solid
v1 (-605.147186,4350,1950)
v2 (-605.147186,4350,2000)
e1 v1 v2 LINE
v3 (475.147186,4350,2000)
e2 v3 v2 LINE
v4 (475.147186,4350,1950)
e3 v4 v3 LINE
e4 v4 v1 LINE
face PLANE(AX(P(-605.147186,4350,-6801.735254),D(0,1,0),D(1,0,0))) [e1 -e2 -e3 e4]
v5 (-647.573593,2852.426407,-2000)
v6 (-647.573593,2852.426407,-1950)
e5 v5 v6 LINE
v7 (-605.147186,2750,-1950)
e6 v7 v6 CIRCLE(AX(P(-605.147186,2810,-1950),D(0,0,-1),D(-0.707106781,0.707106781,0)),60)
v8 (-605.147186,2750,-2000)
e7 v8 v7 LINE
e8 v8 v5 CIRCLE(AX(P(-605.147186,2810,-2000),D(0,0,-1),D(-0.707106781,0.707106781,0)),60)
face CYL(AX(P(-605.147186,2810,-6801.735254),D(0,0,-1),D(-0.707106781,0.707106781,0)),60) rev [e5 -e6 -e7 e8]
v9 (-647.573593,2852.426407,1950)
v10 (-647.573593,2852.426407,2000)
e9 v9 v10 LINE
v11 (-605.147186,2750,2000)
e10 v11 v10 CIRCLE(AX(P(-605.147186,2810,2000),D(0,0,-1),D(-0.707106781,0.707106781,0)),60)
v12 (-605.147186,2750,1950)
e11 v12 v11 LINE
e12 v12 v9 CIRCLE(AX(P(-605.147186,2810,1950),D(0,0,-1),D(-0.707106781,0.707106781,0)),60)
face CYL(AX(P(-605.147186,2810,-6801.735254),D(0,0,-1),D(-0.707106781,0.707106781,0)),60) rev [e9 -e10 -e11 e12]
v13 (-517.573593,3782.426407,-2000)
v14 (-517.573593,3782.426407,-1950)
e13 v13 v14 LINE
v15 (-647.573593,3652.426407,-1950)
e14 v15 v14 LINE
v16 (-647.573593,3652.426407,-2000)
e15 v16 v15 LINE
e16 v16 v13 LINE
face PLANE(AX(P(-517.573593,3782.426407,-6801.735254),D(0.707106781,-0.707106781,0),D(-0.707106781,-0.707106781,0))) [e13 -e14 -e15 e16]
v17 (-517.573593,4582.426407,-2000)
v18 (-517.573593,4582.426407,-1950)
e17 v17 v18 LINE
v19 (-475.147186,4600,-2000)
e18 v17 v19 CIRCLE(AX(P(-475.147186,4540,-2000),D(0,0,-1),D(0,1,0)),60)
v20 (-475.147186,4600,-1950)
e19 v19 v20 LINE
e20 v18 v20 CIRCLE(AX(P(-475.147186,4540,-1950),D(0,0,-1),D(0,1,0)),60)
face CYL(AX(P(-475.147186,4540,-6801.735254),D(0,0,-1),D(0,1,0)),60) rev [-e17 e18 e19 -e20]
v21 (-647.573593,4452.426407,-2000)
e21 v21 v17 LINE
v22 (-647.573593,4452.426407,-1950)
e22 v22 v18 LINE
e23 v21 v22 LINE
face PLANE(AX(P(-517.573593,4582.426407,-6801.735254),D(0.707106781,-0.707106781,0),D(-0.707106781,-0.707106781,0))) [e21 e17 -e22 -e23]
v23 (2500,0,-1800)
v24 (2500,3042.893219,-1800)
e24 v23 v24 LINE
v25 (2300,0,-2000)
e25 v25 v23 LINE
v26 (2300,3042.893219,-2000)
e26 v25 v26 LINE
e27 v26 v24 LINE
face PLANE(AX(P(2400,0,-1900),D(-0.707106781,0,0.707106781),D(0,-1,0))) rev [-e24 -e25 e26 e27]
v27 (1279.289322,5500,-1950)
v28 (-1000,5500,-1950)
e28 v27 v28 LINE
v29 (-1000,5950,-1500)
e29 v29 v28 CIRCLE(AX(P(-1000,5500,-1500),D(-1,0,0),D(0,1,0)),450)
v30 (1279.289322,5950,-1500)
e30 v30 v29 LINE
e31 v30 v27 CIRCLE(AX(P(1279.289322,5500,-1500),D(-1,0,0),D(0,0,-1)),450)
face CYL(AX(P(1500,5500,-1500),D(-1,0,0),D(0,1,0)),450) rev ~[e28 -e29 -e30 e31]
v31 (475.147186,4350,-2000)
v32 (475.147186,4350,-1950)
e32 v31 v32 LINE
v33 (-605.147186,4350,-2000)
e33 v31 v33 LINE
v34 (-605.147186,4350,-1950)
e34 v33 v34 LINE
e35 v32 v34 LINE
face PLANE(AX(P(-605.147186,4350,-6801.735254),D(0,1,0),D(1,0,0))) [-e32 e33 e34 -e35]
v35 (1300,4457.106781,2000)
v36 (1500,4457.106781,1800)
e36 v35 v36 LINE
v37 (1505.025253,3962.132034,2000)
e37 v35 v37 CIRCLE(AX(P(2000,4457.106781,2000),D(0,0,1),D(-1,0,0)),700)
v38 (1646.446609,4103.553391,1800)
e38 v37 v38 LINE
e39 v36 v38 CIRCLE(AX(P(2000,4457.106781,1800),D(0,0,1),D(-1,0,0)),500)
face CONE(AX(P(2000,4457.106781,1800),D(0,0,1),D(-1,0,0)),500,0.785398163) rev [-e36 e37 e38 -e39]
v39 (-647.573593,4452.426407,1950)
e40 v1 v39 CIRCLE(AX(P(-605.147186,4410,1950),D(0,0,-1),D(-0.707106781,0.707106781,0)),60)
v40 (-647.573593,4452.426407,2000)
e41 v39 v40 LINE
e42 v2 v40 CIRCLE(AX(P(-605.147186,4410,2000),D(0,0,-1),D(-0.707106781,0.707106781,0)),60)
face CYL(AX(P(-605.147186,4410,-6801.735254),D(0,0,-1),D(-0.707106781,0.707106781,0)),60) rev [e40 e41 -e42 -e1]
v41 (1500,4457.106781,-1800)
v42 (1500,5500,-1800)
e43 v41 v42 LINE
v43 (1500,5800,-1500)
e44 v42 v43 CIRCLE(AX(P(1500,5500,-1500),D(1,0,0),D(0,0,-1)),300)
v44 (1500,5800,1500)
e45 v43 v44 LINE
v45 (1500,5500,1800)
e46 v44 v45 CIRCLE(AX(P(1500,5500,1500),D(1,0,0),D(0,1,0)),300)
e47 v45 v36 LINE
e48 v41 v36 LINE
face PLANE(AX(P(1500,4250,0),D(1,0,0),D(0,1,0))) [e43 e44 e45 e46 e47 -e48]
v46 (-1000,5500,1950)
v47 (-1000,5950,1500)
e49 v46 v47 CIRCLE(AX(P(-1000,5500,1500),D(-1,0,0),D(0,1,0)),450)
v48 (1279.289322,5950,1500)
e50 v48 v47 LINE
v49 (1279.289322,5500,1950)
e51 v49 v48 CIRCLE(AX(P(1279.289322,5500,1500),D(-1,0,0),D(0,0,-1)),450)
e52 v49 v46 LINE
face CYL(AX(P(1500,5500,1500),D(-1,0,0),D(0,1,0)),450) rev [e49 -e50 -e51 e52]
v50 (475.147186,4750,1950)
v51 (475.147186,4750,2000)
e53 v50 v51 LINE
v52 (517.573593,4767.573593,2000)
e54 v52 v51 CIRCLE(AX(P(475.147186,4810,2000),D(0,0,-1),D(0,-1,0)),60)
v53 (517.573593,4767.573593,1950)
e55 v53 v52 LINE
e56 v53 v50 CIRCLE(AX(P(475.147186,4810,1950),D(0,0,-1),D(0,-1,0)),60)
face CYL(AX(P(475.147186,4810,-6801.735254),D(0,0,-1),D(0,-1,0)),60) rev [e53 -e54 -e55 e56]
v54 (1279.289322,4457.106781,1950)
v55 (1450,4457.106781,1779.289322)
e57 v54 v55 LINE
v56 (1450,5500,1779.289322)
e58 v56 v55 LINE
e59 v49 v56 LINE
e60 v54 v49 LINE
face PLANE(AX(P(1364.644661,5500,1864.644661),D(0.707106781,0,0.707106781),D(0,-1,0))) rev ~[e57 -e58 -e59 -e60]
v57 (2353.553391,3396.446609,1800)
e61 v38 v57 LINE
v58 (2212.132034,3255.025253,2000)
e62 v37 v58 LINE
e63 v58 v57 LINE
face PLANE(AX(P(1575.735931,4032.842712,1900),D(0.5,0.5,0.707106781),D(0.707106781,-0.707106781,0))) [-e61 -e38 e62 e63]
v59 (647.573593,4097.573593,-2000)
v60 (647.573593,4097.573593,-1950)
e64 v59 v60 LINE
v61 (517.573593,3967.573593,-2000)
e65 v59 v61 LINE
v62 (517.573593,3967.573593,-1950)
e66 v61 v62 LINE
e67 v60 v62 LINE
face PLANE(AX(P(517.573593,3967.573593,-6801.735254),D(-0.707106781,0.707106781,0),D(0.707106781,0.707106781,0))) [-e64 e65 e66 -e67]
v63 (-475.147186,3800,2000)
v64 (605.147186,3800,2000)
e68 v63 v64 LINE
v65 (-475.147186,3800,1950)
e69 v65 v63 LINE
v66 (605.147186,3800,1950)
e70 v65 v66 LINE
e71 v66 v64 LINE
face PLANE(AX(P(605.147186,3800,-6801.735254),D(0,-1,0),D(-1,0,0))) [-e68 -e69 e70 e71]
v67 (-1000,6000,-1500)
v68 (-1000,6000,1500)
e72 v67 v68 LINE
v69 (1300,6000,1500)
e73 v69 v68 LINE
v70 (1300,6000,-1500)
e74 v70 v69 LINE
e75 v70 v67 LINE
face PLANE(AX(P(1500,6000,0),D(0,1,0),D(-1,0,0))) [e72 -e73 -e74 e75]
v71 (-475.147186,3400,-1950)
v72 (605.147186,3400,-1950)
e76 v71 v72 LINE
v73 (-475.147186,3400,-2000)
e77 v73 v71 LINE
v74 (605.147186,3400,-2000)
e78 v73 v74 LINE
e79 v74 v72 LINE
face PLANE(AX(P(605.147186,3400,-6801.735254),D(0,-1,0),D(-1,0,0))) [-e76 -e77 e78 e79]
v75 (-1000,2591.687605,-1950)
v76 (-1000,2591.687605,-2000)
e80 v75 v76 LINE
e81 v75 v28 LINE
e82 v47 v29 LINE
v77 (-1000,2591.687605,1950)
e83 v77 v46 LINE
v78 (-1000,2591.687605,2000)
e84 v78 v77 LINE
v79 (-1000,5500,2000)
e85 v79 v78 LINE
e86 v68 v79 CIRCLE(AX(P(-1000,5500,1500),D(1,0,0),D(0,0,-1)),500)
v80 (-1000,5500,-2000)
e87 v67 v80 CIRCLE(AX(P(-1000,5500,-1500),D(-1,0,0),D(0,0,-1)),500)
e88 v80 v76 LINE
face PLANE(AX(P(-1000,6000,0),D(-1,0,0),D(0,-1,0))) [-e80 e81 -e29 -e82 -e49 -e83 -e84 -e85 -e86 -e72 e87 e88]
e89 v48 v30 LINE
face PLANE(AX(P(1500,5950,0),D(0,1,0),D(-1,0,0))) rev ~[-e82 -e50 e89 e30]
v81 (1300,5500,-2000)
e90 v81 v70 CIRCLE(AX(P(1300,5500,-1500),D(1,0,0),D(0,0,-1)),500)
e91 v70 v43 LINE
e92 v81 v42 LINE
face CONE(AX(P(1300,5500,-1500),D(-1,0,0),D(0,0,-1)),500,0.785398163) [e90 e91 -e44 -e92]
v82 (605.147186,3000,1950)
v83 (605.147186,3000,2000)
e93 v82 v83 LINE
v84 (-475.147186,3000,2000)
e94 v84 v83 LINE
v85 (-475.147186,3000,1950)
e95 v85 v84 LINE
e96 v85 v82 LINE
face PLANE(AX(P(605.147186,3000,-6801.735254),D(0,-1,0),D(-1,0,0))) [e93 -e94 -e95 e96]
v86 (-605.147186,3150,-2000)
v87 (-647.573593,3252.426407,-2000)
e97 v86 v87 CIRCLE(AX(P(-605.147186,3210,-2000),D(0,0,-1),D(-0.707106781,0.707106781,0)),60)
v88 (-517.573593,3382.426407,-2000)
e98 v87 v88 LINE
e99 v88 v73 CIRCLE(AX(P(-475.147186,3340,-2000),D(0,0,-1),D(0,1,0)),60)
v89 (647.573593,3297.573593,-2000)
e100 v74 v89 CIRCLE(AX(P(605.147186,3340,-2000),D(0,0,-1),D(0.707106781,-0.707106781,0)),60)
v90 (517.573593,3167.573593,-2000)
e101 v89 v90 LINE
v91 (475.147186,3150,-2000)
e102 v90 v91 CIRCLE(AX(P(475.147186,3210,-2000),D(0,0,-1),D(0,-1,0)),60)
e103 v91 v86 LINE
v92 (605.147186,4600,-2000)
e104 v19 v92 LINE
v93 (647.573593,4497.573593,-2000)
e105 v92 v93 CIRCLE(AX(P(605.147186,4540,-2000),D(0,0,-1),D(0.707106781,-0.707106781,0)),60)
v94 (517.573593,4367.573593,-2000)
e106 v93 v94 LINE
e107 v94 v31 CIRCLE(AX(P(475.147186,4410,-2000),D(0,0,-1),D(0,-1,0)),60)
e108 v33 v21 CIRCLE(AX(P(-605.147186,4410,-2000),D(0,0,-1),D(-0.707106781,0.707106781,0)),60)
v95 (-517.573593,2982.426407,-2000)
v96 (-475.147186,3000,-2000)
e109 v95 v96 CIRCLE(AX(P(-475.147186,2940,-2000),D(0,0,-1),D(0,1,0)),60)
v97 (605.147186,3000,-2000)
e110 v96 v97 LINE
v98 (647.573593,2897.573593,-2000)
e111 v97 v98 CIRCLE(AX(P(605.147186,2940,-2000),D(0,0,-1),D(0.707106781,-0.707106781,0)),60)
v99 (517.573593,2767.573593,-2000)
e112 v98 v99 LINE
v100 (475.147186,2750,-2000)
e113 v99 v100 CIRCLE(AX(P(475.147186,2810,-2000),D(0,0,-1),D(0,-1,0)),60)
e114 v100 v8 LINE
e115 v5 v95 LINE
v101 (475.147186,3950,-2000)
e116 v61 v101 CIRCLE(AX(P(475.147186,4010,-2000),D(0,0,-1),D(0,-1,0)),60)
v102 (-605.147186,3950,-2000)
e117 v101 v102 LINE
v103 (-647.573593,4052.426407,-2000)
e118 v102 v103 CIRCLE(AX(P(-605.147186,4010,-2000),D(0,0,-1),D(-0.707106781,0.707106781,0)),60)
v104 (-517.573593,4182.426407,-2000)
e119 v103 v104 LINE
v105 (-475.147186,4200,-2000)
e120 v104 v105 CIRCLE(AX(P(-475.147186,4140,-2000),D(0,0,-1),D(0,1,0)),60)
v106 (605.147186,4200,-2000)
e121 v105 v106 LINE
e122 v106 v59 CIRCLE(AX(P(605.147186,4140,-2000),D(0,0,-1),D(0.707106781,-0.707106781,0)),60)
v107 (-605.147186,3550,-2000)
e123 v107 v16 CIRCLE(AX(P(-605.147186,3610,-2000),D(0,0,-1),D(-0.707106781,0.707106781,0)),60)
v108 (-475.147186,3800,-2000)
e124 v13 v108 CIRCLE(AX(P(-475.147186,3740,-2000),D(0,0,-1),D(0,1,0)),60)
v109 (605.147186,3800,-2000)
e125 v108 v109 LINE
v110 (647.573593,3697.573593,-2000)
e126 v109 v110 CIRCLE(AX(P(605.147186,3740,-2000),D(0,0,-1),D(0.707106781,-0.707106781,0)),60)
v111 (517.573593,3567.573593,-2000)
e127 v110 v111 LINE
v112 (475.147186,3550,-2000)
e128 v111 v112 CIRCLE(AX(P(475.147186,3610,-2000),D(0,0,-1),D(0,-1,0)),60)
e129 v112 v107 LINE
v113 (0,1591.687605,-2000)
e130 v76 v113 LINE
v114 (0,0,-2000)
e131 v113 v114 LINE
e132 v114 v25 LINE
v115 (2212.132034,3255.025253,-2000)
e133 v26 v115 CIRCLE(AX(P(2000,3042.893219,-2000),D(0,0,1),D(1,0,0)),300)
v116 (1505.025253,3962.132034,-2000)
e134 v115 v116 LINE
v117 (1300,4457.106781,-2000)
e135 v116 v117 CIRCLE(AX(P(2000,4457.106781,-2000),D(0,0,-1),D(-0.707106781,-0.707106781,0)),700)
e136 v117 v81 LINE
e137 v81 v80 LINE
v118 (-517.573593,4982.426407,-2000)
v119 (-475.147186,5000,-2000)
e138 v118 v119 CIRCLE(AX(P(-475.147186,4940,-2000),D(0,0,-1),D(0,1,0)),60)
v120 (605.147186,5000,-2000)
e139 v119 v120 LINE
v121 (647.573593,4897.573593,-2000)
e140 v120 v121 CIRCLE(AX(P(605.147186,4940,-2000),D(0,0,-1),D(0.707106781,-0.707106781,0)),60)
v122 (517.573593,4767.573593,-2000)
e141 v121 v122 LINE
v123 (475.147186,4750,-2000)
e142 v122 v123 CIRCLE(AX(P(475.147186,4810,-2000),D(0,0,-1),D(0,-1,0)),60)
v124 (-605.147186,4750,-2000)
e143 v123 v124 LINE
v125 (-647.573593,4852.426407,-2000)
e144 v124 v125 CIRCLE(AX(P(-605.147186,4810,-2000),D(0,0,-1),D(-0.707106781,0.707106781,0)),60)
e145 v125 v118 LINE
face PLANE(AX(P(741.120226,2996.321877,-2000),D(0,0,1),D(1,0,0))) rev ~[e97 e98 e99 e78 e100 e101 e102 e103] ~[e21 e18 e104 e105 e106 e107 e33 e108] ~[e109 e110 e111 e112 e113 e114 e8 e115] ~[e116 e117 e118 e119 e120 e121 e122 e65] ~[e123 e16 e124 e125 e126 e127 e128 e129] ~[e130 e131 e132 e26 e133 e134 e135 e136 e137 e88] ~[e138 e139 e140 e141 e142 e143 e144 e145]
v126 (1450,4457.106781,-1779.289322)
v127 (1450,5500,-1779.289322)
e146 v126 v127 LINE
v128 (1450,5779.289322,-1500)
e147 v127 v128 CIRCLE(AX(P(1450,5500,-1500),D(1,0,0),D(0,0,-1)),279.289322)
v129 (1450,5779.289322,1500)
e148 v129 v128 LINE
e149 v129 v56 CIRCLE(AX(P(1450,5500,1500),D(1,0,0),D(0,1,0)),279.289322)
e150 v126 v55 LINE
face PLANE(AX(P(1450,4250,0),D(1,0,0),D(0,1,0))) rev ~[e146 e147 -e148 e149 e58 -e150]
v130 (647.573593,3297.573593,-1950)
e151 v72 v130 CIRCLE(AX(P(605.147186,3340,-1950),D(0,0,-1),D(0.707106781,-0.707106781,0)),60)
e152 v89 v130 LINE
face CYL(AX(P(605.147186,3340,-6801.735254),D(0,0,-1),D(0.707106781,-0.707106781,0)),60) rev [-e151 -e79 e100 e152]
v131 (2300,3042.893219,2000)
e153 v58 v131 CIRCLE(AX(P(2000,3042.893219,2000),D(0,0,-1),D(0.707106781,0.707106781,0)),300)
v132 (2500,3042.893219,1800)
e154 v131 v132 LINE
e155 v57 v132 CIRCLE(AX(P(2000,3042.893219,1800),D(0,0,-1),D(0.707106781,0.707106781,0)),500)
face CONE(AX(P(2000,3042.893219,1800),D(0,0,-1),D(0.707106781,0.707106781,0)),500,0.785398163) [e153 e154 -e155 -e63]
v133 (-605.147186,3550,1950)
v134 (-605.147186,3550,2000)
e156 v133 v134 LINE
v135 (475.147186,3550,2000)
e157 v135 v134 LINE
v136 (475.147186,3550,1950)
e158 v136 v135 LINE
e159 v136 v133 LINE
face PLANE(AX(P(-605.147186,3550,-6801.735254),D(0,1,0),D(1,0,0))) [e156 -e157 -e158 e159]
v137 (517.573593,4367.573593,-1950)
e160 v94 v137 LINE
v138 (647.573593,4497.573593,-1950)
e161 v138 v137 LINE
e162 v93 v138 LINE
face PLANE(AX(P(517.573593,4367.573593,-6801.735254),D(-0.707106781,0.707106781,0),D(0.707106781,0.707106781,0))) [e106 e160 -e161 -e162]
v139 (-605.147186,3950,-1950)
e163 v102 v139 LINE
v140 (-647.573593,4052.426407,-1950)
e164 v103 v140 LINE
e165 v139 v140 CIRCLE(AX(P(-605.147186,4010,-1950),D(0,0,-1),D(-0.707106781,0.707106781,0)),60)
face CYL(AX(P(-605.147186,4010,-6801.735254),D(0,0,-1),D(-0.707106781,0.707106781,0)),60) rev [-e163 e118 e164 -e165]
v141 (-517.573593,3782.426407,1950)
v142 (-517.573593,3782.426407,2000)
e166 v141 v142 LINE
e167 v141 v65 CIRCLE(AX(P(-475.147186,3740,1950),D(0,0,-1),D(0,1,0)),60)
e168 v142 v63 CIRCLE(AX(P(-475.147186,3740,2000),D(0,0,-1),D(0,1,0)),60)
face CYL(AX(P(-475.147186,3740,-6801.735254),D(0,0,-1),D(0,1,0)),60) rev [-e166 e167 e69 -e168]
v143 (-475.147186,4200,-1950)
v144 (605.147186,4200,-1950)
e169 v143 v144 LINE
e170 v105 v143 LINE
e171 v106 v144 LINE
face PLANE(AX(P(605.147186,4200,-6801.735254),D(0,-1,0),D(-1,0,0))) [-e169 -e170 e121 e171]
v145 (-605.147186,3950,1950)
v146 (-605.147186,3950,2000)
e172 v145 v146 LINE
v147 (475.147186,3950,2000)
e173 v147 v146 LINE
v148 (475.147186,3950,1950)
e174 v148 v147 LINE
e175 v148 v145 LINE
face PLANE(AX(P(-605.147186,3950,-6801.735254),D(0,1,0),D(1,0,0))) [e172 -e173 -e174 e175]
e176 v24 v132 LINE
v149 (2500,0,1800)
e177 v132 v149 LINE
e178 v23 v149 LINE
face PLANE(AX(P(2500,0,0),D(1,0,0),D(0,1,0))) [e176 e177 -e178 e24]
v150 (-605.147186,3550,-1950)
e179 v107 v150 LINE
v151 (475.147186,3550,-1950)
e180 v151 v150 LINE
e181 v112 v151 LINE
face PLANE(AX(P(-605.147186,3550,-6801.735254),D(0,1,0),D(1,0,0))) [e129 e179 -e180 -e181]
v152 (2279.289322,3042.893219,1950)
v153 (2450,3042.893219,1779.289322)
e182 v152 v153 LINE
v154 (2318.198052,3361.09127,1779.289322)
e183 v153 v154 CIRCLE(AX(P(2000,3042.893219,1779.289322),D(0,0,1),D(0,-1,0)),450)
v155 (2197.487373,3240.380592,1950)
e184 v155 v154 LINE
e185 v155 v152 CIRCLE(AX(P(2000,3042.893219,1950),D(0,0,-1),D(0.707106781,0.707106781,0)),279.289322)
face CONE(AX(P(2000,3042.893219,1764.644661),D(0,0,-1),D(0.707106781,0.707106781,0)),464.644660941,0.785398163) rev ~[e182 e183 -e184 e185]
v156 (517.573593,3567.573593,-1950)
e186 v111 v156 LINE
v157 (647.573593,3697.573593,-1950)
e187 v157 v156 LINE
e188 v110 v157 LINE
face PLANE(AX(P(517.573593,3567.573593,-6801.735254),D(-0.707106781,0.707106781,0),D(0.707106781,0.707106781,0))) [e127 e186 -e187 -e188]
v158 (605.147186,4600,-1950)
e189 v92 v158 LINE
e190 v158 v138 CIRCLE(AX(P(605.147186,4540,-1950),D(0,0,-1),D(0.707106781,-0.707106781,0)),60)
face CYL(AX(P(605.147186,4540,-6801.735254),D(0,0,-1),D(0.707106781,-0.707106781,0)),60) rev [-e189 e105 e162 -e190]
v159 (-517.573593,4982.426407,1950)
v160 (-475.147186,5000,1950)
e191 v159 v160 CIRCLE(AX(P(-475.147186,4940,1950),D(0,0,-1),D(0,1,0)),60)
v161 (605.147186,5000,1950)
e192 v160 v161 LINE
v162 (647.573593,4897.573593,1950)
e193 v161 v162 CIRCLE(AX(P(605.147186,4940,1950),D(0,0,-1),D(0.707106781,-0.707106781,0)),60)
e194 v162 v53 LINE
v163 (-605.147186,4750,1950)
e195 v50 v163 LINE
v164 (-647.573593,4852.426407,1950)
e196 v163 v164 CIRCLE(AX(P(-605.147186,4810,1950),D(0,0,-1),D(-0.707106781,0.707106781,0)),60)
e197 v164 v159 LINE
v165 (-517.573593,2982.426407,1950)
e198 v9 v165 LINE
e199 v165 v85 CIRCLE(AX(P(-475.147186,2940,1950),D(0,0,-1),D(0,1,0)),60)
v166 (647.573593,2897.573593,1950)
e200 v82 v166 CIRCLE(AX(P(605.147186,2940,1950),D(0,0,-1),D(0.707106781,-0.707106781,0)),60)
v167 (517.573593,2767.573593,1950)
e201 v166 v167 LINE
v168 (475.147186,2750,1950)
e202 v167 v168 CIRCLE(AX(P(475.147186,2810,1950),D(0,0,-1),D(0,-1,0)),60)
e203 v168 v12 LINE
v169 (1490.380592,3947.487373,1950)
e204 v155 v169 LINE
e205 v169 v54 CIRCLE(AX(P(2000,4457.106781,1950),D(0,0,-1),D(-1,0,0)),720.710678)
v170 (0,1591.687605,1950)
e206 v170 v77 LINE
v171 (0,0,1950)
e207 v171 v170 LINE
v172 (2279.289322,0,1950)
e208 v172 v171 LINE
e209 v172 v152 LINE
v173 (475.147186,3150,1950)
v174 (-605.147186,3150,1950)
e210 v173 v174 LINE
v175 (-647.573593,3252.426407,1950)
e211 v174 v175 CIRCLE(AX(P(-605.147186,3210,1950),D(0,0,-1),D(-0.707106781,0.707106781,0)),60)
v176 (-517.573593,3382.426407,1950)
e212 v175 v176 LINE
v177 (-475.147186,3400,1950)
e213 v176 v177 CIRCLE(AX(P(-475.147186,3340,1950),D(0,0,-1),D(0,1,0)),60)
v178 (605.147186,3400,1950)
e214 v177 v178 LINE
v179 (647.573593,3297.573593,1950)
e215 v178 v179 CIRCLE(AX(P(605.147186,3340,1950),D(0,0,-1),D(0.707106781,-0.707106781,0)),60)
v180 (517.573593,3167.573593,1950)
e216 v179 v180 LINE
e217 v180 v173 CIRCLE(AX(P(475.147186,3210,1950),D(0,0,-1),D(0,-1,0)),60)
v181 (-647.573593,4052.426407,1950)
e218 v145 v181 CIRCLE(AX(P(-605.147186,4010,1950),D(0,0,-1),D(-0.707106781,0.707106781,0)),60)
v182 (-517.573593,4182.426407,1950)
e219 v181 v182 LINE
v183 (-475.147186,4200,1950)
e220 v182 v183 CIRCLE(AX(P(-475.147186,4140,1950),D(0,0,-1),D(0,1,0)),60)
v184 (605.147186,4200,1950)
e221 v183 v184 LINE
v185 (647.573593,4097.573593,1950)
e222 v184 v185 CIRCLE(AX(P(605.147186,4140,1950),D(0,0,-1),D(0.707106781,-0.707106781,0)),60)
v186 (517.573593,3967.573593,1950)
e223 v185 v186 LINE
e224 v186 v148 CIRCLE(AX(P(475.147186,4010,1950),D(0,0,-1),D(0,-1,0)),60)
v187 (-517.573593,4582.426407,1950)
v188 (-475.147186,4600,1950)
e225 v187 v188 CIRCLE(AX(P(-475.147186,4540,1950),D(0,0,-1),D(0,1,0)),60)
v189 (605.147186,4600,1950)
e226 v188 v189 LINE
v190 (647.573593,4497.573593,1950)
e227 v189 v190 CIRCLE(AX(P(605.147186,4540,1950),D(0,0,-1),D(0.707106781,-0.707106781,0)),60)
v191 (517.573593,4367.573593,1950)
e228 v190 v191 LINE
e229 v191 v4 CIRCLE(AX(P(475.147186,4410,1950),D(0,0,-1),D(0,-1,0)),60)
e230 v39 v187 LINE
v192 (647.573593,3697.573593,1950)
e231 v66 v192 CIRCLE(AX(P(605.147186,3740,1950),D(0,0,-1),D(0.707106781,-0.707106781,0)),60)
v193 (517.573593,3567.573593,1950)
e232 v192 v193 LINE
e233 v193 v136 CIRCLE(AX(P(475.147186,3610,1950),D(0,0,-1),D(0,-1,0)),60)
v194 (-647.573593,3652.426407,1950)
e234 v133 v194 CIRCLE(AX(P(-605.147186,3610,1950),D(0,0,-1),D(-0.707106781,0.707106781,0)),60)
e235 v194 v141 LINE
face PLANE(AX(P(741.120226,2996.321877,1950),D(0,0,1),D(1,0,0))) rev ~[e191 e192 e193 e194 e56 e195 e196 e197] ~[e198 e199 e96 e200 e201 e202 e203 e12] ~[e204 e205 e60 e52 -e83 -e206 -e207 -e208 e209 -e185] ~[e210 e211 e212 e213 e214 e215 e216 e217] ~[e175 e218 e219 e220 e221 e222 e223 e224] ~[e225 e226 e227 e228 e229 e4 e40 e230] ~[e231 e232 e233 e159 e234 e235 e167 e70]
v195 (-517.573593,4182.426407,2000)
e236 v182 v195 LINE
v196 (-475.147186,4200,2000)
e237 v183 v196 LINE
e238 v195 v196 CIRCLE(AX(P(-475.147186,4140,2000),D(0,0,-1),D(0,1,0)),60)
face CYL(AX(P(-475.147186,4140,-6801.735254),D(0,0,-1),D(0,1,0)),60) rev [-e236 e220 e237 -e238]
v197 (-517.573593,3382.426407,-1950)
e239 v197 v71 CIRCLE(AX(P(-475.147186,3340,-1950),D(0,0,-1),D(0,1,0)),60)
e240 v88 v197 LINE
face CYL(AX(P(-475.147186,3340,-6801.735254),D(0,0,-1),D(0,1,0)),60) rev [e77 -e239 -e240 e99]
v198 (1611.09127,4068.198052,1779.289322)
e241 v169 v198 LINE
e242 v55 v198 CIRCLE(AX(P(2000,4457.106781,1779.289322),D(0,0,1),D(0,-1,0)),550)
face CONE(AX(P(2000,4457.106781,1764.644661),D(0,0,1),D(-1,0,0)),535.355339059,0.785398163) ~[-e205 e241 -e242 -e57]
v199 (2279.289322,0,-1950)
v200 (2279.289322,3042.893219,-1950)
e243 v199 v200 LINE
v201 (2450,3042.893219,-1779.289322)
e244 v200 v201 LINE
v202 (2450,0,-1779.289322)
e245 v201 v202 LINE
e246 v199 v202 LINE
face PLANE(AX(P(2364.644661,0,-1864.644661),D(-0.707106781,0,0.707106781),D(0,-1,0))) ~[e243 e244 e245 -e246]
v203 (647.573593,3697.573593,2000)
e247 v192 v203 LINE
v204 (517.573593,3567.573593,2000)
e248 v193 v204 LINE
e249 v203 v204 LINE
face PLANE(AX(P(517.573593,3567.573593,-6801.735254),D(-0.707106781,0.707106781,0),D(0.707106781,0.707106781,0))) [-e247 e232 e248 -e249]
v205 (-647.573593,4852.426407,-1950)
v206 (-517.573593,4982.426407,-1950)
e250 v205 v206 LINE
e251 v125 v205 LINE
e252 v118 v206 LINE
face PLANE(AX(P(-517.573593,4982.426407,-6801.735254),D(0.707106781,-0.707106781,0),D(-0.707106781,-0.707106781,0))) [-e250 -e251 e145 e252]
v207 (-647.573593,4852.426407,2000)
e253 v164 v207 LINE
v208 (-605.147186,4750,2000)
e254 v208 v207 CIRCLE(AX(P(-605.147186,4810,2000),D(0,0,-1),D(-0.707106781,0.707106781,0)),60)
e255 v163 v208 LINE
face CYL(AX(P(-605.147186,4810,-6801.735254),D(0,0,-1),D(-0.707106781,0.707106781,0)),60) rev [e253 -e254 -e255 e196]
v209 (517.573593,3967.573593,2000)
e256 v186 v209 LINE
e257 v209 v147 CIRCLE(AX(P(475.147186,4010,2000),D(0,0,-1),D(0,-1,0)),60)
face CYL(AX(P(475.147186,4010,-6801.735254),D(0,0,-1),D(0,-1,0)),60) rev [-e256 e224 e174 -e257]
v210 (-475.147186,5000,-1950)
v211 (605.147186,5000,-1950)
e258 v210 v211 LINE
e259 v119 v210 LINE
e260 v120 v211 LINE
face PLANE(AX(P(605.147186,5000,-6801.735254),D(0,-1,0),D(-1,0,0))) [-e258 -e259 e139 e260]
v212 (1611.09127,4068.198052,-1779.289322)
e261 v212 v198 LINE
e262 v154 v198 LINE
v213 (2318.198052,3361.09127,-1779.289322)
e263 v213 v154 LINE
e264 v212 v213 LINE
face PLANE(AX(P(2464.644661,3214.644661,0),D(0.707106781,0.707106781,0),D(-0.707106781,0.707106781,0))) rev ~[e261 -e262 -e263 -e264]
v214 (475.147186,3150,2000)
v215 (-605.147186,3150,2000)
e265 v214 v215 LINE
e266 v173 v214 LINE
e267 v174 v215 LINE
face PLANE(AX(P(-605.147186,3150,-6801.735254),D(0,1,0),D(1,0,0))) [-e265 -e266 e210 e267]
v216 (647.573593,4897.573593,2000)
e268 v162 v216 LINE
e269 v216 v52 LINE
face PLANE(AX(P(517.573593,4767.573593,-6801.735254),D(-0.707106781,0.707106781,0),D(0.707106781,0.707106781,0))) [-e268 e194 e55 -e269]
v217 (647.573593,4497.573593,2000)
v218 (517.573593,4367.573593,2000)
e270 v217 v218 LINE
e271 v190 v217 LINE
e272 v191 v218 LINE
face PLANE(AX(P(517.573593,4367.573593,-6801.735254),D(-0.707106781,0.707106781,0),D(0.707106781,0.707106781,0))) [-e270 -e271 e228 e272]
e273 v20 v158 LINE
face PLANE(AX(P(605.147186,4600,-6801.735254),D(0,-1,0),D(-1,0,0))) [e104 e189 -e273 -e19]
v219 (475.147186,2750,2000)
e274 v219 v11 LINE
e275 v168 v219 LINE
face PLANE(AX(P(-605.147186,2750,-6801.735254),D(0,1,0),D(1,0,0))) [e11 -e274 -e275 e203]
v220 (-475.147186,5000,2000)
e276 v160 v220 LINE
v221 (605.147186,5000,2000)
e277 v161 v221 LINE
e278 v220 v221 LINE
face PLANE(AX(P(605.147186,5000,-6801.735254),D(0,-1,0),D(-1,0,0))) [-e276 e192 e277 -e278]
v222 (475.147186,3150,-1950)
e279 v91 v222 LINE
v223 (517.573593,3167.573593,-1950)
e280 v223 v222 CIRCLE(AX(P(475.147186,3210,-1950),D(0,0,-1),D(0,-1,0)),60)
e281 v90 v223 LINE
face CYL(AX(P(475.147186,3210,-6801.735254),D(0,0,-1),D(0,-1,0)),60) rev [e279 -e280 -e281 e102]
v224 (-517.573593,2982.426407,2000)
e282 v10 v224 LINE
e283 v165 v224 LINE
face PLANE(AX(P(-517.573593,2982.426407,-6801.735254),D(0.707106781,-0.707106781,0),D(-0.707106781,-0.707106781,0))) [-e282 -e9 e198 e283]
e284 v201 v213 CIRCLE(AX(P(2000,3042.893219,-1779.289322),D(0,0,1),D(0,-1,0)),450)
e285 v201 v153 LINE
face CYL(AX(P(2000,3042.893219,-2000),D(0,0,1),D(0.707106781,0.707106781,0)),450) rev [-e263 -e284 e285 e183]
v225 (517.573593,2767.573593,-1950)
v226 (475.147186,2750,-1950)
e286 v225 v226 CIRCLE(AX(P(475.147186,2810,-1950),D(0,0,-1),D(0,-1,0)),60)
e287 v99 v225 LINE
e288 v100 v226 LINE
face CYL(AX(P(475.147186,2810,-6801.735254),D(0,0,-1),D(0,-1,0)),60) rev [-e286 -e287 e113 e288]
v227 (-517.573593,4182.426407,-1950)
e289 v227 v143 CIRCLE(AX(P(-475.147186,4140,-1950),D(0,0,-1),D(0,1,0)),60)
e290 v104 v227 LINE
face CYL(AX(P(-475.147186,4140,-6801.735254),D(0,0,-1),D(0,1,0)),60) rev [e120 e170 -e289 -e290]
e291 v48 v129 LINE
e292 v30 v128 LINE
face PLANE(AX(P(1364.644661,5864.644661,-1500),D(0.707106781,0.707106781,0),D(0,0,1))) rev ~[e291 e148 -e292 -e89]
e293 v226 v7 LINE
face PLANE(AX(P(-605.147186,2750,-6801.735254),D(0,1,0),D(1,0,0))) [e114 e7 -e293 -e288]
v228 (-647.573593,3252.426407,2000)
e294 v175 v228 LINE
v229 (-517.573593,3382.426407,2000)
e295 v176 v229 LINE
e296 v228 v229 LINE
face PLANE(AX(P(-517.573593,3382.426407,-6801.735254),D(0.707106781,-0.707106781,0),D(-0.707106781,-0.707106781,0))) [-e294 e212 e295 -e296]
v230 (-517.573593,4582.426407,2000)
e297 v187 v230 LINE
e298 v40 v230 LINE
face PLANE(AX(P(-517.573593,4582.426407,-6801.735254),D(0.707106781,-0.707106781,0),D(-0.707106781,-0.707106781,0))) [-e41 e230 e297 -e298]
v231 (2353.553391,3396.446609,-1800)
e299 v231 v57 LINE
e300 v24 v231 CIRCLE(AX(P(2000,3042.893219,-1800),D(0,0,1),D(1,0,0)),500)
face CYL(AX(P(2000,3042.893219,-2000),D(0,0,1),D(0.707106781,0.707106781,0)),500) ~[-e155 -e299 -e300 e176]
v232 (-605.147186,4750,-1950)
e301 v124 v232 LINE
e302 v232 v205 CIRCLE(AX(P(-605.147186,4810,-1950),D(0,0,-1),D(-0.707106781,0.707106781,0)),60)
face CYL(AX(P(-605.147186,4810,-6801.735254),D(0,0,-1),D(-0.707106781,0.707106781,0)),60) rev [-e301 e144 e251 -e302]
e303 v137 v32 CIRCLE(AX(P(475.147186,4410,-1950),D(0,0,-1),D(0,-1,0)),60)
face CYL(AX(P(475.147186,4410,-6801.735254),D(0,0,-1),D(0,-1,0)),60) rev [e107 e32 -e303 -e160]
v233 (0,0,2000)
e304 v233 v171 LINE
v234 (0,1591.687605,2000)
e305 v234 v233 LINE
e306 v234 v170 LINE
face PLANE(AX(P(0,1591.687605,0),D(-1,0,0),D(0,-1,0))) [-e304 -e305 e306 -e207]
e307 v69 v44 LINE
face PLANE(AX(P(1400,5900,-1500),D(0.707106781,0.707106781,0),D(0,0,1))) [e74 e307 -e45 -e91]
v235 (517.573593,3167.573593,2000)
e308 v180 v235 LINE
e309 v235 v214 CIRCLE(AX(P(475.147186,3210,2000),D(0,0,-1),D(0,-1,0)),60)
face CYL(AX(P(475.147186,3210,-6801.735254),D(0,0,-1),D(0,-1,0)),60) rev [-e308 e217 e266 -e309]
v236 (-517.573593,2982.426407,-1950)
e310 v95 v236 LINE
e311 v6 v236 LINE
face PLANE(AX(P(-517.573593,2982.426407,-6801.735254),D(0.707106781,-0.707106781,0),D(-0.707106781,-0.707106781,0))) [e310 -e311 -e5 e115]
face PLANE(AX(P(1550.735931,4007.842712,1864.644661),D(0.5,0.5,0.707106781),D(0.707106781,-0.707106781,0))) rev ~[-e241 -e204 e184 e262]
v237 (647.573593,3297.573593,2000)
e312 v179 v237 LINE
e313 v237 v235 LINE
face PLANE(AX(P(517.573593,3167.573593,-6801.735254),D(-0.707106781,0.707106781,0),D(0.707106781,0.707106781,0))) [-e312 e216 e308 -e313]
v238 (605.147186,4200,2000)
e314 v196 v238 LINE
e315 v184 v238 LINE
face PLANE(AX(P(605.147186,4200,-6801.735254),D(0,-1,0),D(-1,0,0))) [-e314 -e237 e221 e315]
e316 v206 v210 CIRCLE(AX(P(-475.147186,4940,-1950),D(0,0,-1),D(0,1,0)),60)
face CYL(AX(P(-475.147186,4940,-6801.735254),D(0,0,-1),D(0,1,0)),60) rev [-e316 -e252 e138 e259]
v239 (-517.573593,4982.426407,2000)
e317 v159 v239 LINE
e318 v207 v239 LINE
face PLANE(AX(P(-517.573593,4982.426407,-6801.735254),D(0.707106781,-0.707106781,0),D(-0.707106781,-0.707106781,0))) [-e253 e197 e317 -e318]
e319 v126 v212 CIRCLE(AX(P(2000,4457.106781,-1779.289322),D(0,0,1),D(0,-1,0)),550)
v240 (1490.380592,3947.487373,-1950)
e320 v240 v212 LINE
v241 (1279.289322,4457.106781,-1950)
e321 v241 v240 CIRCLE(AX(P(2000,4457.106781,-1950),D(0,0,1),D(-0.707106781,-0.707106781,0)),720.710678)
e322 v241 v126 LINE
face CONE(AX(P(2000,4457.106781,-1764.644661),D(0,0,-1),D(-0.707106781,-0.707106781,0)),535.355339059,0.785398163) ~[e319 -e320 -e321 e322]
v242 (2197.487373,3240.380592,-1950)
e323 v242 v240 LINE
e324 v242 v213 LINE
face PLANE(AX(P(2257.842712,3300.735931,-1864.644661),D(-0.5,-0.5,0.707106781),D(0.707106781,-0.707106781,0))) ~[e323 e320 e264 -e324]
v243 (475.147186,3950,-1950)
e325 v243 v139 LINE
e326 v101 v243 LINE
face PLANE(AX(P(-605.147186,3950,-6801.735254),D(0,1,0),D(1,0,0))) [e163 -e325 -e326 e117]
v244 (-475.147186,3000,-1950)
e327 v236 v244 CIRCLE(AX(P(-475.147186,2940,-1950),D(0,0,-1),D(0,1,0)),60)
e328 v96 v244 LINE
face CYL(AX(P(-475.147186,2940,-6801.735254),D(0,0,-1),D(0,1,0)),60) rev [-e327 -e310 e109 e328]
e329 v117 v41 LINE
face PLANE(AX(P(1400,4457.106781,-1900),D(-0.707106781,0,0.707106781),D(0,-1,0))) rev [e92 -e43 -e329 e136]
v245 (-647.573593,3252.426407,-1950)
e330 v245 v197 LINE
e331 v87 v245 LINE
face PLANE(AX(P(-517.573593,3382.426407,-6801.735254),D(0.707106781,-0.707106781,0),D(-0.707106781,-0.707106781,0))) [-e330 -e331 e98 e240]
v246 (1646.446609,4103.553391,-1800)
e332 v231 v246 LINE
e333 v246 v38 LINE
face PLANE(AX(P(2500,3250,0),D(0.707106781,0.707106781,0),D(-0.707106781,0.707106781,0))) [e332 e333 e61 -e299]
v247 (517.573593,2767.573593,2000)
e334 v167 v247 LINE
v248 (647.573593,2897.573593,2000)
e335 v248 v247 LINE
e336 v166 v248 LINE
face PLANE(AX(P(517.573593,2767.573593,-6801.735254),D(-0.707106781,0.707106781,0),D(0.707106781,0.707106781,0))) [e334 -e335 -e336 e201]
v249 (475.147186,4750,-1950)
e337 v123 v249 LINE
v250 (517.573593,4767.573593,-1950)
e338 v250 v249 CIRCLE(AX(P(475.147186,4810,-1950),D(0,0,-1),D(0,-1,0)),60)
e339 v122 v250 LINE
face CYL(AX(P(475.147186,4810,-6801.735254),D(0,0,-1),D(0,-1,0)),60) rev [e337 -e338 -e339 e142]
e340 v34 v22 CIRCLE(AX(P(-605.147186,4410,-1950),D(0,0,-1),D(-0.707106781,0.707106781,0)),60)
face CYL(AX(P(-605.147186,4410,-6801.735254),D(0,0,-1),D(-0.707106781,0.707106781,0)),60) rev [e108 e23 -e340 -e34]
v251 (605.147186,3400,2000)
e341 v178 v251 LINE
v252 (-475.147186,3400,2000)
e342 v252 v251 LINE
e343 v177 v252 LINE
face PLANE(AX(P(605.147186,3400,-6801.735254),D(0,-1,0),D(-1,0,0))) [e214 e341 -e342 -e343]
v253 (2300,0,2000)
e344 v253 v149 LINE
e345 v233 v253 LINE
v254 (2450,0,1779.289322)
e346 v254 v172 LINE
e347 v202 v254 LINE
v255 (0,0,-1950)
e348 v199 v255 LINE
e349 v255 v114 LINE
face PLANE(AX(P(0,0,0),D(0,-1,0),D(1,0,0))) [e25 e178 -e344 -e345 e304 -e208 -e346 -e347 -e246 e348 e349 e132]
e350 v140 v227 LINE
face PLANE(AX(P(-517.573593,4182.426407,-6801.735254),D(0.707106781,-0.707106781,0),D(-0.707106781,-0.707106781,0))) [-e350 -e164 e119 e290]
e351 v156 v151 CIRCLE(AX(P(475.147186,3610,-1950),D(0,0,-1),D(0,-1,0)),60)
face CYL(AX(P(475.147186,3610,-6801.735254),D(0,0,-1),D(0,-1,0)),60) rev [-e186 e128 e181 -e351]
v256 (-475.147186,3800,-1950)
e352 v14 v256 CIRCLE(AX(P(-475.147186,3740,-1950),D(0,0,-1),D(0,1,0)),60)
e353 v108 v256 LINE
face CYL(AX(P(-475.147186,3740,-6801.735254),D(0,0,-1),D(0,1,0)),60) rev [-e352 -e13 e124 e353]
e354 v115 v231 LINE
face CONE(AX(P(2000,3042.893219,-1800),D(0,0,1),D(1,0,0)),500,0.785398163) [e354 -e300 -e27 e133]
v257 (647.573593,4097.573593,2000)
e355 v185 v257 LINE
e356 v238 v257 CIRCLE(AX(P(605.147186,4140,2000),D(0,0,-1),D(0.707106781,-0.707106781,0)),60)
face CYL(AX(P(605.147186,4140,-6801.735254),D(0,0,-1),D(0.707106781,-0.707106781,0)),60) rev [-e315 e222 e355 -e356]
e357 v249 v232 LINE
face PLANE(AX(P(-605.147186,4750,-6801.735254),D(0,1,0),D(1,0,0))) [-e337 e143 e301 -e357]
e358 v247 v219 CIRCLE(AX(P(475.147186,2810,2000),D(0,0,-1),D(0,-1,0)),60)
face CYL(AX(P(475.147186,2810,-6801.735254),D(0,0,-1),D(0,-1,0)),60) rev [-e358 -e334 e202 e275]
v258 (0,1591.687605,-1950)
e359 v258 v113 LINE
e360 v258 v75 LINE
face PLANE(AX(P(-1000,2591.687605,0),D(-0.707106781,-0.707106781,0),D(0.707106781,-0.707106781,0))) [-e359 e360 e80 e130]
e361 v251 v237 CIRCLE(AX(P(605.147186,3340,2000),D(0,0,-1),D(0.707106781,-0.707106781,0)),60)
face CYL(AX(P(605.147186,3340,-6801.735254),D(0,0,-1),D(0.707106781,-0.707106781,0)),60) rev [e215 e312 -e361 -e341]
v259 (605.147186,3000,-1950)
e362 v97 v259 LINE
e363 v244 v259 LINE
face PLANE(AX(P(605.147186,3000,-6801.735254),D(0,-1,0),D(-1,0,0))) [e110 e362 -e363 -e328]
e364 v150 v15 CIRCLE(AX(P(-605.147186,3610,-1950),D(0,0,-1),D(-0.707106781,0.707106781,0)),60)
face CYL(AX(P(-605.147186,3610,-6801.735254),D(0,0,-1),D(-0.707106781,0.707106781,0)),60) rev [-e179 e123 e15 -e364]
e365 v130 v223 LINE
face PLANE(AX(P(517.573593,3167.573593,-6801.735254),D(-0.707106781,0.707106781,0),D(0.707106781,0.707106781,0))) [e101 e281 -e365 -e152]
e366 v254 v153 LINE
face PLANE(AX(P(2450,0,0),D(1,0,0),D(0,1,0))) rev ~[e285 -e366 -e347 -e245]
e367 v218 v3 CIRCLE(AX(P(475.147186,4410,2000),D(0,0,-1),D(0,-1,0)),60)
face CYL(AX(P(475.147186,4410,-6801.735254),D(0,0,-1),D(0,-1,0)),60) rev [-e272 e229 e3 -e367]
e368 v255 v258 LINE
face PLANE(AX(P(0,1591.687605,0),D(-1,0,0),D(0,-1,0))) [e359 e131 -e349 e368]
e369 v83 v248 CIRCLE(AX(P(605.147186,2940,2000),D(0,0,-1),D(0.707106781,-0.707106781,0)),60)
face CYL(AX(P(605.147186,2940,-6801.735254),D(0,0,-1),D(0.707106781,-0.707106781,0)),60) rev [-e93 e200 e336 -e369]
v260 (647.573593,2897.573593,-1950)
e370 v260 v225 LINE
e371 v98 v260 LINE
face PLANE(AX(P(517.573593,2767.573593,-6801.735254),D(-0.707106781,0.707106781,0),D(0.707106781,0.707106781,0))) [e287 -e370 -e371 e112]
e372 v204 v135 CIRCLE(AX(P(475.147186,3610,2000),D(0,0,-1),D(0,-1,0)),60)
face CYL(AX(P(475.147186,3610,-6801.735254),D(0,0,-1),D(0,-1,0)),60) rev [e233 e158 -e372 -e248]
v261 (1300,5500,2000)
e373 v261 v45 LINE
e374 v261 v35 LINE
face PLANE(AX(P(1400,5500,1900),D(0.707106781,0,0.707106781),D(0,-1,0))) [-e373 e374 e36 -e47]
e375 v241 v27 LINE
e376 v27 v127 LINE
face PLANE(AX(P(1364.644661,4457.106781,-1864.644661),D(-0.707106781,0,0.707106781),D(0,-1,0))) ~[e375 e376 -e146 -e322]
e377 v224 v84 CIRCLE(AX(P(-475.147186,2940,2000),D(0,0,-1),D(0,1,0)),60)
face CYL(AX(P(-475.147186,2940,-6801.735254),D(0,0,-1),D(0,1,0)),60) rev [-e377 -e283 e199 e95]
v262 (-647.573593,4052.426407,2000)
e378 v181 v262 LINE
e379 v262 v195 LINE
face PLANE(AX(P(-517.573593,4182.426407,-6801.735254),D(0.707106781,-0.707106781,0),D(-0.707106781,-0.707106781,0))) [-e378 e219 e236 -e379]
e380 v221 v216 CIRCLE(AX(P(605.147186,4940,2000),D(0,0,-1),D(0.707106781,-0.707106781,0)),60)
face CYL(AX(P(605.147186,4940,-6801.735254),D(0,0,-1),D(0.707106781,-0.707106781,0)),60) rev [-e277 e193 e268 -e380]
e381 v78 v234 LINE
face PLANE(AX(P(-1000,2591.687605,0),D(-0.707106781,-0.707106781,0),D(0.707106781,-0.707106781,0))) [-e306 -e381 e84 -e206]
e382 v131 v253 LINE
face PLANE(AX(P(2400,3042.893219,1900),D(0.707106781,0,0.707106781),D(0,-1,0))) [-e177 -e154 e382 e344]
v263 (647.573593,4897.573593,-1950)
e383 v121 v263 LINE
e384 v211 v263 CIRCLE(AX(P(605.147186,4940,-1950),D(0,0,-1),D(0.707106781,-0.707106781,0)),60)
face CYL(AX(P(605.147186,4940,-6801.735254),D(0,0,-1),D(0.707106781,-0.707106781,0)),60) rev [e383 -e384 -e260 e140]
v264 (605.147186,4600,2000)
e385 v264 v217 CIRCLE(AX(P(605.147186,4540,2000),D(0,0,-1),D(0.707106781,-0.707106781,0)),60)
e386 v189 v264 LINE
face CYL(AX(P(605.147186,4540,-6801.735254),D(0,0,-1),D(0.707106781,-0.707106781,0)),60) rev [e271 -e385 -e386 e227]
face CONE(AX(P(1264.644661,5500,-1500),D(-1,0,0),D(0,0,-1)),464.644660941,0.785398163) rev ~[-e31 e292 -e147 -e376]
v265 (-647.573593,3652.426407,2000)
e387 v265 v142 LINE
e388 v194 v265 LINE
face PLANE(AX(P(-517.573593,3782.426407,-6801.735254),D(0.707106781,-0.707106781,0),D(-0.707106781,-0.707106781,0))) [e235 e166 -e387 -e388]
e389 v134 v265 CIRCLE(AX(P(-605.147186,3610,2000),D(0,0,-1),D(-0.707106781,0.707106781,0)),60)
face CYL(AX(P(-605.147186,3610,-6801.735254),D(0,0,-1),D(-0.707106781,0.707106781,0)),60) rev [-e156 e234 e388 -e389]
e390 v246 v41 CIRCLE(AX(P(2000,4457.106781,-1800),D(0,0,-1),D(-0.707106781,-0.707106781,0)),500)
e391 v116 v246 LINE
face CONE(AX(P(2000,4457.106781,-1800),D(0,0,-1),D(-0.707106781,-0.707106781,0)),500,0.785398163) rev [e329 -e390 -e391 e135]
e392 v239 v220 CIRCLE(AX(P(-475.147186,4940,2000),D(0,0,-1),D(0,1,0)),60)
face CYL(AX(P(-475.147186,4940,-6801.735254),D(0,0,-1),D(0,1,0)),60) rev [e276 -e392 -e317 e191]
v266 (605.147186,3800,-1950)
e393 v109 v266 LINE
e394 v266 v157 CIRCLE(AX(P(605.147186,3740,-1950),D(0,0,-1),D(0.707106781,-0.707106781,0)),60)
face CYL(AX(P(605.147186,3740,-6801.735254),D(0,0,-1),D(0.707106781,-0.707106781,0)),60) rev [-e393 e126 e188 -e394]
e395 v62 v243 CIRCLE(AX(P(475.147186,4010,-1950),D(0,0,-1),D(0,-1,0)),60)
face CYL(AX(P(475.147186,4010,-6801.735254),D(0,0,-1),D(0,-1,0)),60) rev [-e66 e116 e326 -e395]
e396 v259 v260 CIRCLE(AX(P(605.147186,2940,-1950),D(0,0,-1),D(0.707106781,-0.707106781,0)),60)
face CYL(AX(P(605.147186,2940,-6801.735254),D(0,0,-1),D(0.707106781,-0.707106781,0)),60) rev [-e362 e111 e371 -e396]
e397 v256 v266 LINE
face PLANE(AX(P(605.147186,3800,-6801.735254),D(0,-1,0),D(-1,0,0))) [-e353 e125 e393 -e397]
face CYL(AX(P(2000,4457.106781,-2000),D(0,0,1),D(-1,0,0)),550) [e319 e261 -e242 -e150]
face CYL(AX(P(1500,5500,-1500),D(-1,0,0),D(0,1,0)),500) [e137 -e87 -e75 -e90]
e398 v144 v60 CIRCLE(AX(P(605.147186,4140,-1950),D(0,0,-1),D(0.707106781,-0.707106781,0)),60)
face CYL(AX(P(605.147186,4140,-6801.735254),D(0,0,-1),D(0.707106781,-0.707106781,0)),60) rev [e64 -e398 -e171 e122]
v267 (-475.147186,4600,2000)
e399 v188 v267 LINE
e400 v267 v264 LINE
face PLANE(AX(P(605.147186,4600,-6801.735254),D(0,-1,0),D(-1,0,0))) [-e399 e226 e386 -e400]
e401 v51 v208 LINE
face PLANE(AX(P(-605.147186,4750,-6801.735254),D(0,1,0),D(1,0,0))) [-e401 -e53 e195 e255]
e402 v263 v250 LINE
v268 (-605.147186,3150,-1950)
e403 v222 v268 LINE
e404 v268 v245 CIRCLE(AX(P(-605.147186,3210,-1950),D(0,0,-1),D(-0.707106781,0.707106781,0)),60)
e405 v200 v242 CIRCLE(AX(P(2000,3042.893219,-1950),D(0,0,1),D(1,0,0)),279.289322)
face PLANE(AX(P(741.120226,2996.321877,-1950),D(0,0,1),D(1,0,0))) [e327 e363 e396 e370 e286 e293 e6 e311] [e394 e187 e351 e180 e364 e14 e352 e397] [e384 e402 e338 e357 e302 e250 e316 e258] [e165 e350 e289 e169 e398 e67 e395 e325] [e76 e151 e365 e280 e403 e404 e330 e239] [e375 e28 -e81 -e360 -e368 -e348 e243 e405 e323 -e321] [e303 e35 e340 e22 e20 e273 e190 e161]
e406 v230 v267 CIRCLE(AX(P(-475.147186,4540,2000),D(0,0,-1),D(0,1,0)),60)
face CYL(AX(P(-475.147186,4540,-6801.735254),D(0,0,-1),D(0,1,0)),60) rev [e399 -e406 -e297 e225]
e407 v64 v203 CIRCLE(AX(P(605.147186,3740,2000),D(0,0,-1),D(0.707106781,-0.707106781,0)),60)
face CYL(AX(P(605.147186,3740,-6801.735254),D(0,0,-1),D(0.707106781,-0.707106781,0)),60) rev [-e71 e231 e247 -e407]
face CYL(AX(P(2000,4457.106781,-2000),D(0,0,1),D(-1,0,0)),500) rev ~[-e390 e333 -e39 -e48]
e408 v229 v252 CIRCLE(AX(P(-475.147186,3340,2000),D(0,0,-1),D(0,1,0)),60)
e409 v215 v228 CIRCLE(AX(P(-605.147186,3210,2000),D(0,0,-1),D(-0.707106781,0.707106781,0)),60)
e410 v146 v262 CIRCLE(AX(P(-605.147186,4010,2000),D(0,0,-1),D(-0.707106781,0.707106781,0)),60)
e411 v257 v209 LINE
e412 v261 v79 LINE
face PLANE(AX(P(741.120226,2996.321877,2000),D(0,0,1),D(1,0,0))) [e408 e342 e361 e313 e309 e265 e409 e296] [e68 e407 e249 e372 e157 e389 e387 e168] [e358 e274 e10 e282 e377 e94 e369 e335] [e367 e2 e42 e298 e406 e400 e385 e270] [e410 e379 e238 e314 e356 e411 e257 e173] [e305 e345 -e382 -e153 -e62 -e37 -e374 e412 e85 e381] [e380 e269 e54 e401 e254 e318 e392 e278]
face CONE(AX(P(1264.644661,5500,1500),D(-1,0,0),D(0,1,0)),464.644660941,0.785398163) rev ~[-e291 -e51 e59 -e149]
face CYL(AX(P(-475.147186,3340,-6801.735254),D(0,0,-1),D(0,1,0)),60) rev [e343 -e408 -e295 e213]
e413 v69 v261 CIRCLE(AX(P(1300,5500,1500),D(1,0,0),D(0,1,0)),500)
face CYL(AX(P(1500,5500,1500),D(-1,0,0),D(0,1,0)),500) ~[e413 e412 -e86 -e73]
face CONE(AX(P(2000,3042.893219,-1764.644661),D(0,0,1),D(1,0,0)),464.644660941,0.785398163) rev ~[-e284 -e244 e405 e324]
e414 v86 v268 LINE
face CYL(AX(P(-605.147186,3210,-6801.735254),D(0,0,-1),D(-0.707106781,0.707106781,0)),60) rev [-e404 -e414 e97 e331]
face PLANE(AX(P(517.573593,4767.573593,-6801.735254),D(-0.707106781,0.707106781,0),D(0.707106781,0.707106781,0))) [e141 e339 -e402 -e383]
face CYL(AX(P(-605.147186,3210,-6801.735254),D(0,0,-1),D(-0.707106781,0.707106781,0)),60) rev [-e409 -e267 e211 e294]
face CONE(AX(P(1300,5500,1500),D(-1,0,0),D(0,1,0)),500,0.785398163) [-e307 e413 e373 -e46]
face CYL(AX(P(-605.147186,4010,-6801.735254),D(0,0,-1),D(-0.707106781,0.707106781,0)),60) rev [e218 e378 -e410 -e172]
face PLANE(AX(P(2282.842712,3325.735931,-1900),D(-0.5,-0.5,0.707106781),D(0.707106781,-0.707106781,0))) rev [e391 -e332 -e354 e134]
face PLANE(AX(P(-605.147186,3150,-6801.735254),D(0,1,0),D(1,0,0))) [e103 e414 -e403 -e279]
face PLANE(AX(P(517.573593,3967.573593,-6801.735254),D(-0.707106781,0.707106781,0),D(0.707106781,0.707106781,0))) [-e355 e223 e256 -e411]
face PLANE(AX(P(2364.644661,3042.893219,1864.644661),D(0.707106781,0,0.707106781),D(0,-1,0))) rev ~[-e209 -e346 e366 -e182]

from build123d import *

# Parameters (mm, degrees)
BOSS_EXTRUDE1_DEPTH     = 2000
FILLET1_R               = 500
CHAMFER1_SIZE           = 200
SHELL1_T                = -50
CUT_EXTRUDE1_DEPTH      = 6801.735254368
CUT_EXTRUDE1_DEPTH_BACK = 6801.735254368


with BuildPart() as part:
    # Sketch1 → Boss-Extrude1 (new, symmetric)
    with BuildSketch(Plane.XY):
        Polygon((0, 0), (2500, 0), (2500, 3250), (1500, 4250), (1500, 6000), (-1000, 6000), (-1000, 2591.687604822), (0, 1591.687604822), align=None)
    extrude(amount=BOSS_EXTRUDE1_DEPTH, both=True)

    # Fillet1
    fillet1_edges = [part.edges().sort_by_distance(p)[0] for p in [
        (1500, 4250, 0),
        (2500, 3250, 0),
        (250, 6000, 2000),
        (250, 6000, -2000),
    ]]
    fillet(fillet1_edges, radius=FILLET1_R)

    # Chamfer1
    chamfer1_edges = [part.edges().sort_by_distance(p)[0] for p in [
        (2500, 1521.446609407, -2000),
        (2500, 1521.446609407, 2000),
        (2000, 3750, -2000),
        (2000, 3750, 2000),
        (1500, 4978.553390593, -2000),
        (2461.939766256, 3234.234934996, -2000),
        (1500, 4978.553390593, 2000),
        (2461.939766256, 3234.234934996, 2000),
        (1500, 6000, 0),
        (1500, 5853.553390593, 1853.553390593),
        (1500, 5853.553390593, -1853.553390593),
        (1538.060233744, 4265.765065004, -2000),
        (1538.060233744, 4265.765065004, 2000),
    ]]
    chamfer(chamfer1_edges, length=CHAMFER1_SIZE)

    # Shell1
    shell1_openings = [part.faces().sort_by_distance(p)[0] for p in [
        (-500, 2091.687604822, 0),
        (-1000, 4283.210771138, 0),
        (1245.247657296, 0, 0),
        (0, 795.843802411, 0),
    ]]
    offset(amount=SHELL1_T, openings=shell1_openings, kind=Kind.INTERSECTION)

    # Sketch2 → Cut-Extrude1 (cut, two sides: drawn at the far end of the back side and taken through both)
    with BuildSketch(Plane.XY.offset(-CUT_EXTRUDE1_DEPTH_BACK)):
        with BuildLine():
            Line((-517.573593129, 4982.426406871), (-647.573593129, 4852.426406871))
            ThreePointArc((-647.573593129, 4852.426406871), (-660.579958208, 4787.038994058), (-605.147186258, 4750))
            Line((-605.147186258, 4750), (475.147186258, 4750))
            ThreePointArc((475.147186258, 4750), (498.1081922, 4754.567228049), (517.573593129, 4767.573593129))
            Line((517.573593129, 4767.573593129), (647.573593129, 4897.573593129))
            ThreePointArc((647.573593129, 4897.573593129), (660.579958208, 4962.961005942), (605.147186258, 5000))
            Line((605.147186258, 5000), (-475.147186258, 5000))
            ThreePointArc((-475.147186258, 5000), (-498.1081922, 4995.432771951), (-517.573593129, 4982.426406871))
        make_face()
        with BuildLine():
            Line((-517.573593129, 4582.426406871), (-647.573593129, 4452.426406871))
            ThreePointArc((-647.573593129, 4452.426406871), (-660.579958208, 4387.038994058), (-605.147186258, 4350))
            Line((-605.147186258, 4350), (475.147186258, 4350))
            ThreePointArc((475.147186258, 4350), (498.1081922, 4354.567228049), (517.573593129, 4367.573593129))
            Line((517.573593129, 4367.573593129), (647.573593129, 4497.573593129))
            ThreePointArc((647.573593129, 4497.573593129), (660.579958208, 4562.961005942), (605.147186258, 4600))
            Line((605.147186258, 4600), (-475.147186258, 4600))
            ThreePointArc((-475.147186258, 4600), (-498.1081922, 4595.432771951), (-517.573593129, 4582.426406871))
        make_face()
        with BuildLine():
            Line((-517.573593129, 4182.426406871), (-647.573593129, 4052.426406871))
            ThreePointArc((-647.573593129, 4052.426406871), (-660.579958208, 3987.038994058), (-605.147186258, 3950))
            Line((-605.147186258, 3950), (475.147186258, 3950))
            ThreePointArc((475.147186258, 3950), (498.1081922, 3954.567228049), (517.573593129, 3967.573593129))
            Line((517.573593129, 3967.573593129), (647.573593129, 4097.573593129))
            ThreePointArc((647.573593129, 4097.573593129), (660.579958208, 4162.961005942), (605.147186258, 4200))
            Line((605.147186258, 4200), (-475.147186258, 4200))
            ThreePointArc((-475.147186258, 4200), (-498.1081922, 4195.432771951), (-517.573593129, 4182.426406871))
        make_face()
        with BuildLine():
            Line((-517.573593129, 3782.426406871), (-647.573593129, 3652.426406871))
            ThreePointArc((-647.573593129, 3652.426406871), (-660.579958208, 3587.038994058), (-605.147186258, 3550))
            Line((-605.147186258, 3550), (475.147186258, 3550))
            ThreePointArc((475.147186258, 3550), (498.1081922, 3554.567228049), (517.573593129, 3567.573593129))
            Line((517.573593129, 3567.573593129), (647.573593129, 3697.573593129))
            ThreePointArc((647.573593129, 3697.573593129), (660.579958208, 3762.961005942), (605.147186258, 3800))
            Line((605.147186258, 3800), (-475.147186258, 3800))
            ThreePointArc((-475.147186258, 3800), (-498.1081922, 3795.432771951), (-517.573593129, 3782.426406871))
        make_face()
        with BuildLine():
            Line((-517.573593129, 3382.426406871), (-647.573593129, 3252.426406871))
            ThreePointArc((-647.573593129, 3252.426406871), (-660.579958208, 3187.038994058), (-605.147186258, 3150))
            Line((-605.147186258, 3150), (475.147186258, 3150))
            ThreePointArc((475.147186258, 3150), (498.1081922, 3154.567228049), (517.573593129, 3167.573593129))
            Line((517.573593129, 3167.573593129), (647.573593129, 3297.573593129))
            ThreePointArc((647.573593129, 3297.573593129), (660.579958208, 3362.961005942), (605.147186258, 3400))
            Line((605.147186258, 3400), (-475.147186258, 3400))
            ThreePointArc((-475.147186258, 3400), (-498.1081922, 3395.432771951), (-517.573593129, 3382.426406871))
        make_face()
        with BuildLine():
            Line((-517.573593129, 2982.426406871), (-647.573593129, 2852.426406871))
            ThreePointArc((-647.573593129, 2852.426406871), (-660.579958208, 2787.038994058), (-605.147186258, 2750))
            Line((-605.147186258, 2750), (475.147186258, 2750))
            ThreePointArc((475.147186258, 2750), (498.1081922, 2754.567228049), (517.573593129, 2767.573593129))
            Line((517.573593129, 2767.573593129), (647.573593129, 2897.573593129))
            ThreePointArc((647.573593129, 2897.573593129), (660.579958208, 2962.961005942), (605.147186258, 3000))
            Line((605.147186258, 3000), (-475.147186258, 3000))
            ThreePointArc((-475.147186258, 3000), (-498.108192199, 2995.432771951), (-517.573593129, 2982.426406871))
        make_face()
    extrude(amount=CUT_EXTRUDE1_DEPTH + CUT_EXTRUDE1_DEPTH_BACK, mode=Mode.SUBTRACT)


solid = part.part
